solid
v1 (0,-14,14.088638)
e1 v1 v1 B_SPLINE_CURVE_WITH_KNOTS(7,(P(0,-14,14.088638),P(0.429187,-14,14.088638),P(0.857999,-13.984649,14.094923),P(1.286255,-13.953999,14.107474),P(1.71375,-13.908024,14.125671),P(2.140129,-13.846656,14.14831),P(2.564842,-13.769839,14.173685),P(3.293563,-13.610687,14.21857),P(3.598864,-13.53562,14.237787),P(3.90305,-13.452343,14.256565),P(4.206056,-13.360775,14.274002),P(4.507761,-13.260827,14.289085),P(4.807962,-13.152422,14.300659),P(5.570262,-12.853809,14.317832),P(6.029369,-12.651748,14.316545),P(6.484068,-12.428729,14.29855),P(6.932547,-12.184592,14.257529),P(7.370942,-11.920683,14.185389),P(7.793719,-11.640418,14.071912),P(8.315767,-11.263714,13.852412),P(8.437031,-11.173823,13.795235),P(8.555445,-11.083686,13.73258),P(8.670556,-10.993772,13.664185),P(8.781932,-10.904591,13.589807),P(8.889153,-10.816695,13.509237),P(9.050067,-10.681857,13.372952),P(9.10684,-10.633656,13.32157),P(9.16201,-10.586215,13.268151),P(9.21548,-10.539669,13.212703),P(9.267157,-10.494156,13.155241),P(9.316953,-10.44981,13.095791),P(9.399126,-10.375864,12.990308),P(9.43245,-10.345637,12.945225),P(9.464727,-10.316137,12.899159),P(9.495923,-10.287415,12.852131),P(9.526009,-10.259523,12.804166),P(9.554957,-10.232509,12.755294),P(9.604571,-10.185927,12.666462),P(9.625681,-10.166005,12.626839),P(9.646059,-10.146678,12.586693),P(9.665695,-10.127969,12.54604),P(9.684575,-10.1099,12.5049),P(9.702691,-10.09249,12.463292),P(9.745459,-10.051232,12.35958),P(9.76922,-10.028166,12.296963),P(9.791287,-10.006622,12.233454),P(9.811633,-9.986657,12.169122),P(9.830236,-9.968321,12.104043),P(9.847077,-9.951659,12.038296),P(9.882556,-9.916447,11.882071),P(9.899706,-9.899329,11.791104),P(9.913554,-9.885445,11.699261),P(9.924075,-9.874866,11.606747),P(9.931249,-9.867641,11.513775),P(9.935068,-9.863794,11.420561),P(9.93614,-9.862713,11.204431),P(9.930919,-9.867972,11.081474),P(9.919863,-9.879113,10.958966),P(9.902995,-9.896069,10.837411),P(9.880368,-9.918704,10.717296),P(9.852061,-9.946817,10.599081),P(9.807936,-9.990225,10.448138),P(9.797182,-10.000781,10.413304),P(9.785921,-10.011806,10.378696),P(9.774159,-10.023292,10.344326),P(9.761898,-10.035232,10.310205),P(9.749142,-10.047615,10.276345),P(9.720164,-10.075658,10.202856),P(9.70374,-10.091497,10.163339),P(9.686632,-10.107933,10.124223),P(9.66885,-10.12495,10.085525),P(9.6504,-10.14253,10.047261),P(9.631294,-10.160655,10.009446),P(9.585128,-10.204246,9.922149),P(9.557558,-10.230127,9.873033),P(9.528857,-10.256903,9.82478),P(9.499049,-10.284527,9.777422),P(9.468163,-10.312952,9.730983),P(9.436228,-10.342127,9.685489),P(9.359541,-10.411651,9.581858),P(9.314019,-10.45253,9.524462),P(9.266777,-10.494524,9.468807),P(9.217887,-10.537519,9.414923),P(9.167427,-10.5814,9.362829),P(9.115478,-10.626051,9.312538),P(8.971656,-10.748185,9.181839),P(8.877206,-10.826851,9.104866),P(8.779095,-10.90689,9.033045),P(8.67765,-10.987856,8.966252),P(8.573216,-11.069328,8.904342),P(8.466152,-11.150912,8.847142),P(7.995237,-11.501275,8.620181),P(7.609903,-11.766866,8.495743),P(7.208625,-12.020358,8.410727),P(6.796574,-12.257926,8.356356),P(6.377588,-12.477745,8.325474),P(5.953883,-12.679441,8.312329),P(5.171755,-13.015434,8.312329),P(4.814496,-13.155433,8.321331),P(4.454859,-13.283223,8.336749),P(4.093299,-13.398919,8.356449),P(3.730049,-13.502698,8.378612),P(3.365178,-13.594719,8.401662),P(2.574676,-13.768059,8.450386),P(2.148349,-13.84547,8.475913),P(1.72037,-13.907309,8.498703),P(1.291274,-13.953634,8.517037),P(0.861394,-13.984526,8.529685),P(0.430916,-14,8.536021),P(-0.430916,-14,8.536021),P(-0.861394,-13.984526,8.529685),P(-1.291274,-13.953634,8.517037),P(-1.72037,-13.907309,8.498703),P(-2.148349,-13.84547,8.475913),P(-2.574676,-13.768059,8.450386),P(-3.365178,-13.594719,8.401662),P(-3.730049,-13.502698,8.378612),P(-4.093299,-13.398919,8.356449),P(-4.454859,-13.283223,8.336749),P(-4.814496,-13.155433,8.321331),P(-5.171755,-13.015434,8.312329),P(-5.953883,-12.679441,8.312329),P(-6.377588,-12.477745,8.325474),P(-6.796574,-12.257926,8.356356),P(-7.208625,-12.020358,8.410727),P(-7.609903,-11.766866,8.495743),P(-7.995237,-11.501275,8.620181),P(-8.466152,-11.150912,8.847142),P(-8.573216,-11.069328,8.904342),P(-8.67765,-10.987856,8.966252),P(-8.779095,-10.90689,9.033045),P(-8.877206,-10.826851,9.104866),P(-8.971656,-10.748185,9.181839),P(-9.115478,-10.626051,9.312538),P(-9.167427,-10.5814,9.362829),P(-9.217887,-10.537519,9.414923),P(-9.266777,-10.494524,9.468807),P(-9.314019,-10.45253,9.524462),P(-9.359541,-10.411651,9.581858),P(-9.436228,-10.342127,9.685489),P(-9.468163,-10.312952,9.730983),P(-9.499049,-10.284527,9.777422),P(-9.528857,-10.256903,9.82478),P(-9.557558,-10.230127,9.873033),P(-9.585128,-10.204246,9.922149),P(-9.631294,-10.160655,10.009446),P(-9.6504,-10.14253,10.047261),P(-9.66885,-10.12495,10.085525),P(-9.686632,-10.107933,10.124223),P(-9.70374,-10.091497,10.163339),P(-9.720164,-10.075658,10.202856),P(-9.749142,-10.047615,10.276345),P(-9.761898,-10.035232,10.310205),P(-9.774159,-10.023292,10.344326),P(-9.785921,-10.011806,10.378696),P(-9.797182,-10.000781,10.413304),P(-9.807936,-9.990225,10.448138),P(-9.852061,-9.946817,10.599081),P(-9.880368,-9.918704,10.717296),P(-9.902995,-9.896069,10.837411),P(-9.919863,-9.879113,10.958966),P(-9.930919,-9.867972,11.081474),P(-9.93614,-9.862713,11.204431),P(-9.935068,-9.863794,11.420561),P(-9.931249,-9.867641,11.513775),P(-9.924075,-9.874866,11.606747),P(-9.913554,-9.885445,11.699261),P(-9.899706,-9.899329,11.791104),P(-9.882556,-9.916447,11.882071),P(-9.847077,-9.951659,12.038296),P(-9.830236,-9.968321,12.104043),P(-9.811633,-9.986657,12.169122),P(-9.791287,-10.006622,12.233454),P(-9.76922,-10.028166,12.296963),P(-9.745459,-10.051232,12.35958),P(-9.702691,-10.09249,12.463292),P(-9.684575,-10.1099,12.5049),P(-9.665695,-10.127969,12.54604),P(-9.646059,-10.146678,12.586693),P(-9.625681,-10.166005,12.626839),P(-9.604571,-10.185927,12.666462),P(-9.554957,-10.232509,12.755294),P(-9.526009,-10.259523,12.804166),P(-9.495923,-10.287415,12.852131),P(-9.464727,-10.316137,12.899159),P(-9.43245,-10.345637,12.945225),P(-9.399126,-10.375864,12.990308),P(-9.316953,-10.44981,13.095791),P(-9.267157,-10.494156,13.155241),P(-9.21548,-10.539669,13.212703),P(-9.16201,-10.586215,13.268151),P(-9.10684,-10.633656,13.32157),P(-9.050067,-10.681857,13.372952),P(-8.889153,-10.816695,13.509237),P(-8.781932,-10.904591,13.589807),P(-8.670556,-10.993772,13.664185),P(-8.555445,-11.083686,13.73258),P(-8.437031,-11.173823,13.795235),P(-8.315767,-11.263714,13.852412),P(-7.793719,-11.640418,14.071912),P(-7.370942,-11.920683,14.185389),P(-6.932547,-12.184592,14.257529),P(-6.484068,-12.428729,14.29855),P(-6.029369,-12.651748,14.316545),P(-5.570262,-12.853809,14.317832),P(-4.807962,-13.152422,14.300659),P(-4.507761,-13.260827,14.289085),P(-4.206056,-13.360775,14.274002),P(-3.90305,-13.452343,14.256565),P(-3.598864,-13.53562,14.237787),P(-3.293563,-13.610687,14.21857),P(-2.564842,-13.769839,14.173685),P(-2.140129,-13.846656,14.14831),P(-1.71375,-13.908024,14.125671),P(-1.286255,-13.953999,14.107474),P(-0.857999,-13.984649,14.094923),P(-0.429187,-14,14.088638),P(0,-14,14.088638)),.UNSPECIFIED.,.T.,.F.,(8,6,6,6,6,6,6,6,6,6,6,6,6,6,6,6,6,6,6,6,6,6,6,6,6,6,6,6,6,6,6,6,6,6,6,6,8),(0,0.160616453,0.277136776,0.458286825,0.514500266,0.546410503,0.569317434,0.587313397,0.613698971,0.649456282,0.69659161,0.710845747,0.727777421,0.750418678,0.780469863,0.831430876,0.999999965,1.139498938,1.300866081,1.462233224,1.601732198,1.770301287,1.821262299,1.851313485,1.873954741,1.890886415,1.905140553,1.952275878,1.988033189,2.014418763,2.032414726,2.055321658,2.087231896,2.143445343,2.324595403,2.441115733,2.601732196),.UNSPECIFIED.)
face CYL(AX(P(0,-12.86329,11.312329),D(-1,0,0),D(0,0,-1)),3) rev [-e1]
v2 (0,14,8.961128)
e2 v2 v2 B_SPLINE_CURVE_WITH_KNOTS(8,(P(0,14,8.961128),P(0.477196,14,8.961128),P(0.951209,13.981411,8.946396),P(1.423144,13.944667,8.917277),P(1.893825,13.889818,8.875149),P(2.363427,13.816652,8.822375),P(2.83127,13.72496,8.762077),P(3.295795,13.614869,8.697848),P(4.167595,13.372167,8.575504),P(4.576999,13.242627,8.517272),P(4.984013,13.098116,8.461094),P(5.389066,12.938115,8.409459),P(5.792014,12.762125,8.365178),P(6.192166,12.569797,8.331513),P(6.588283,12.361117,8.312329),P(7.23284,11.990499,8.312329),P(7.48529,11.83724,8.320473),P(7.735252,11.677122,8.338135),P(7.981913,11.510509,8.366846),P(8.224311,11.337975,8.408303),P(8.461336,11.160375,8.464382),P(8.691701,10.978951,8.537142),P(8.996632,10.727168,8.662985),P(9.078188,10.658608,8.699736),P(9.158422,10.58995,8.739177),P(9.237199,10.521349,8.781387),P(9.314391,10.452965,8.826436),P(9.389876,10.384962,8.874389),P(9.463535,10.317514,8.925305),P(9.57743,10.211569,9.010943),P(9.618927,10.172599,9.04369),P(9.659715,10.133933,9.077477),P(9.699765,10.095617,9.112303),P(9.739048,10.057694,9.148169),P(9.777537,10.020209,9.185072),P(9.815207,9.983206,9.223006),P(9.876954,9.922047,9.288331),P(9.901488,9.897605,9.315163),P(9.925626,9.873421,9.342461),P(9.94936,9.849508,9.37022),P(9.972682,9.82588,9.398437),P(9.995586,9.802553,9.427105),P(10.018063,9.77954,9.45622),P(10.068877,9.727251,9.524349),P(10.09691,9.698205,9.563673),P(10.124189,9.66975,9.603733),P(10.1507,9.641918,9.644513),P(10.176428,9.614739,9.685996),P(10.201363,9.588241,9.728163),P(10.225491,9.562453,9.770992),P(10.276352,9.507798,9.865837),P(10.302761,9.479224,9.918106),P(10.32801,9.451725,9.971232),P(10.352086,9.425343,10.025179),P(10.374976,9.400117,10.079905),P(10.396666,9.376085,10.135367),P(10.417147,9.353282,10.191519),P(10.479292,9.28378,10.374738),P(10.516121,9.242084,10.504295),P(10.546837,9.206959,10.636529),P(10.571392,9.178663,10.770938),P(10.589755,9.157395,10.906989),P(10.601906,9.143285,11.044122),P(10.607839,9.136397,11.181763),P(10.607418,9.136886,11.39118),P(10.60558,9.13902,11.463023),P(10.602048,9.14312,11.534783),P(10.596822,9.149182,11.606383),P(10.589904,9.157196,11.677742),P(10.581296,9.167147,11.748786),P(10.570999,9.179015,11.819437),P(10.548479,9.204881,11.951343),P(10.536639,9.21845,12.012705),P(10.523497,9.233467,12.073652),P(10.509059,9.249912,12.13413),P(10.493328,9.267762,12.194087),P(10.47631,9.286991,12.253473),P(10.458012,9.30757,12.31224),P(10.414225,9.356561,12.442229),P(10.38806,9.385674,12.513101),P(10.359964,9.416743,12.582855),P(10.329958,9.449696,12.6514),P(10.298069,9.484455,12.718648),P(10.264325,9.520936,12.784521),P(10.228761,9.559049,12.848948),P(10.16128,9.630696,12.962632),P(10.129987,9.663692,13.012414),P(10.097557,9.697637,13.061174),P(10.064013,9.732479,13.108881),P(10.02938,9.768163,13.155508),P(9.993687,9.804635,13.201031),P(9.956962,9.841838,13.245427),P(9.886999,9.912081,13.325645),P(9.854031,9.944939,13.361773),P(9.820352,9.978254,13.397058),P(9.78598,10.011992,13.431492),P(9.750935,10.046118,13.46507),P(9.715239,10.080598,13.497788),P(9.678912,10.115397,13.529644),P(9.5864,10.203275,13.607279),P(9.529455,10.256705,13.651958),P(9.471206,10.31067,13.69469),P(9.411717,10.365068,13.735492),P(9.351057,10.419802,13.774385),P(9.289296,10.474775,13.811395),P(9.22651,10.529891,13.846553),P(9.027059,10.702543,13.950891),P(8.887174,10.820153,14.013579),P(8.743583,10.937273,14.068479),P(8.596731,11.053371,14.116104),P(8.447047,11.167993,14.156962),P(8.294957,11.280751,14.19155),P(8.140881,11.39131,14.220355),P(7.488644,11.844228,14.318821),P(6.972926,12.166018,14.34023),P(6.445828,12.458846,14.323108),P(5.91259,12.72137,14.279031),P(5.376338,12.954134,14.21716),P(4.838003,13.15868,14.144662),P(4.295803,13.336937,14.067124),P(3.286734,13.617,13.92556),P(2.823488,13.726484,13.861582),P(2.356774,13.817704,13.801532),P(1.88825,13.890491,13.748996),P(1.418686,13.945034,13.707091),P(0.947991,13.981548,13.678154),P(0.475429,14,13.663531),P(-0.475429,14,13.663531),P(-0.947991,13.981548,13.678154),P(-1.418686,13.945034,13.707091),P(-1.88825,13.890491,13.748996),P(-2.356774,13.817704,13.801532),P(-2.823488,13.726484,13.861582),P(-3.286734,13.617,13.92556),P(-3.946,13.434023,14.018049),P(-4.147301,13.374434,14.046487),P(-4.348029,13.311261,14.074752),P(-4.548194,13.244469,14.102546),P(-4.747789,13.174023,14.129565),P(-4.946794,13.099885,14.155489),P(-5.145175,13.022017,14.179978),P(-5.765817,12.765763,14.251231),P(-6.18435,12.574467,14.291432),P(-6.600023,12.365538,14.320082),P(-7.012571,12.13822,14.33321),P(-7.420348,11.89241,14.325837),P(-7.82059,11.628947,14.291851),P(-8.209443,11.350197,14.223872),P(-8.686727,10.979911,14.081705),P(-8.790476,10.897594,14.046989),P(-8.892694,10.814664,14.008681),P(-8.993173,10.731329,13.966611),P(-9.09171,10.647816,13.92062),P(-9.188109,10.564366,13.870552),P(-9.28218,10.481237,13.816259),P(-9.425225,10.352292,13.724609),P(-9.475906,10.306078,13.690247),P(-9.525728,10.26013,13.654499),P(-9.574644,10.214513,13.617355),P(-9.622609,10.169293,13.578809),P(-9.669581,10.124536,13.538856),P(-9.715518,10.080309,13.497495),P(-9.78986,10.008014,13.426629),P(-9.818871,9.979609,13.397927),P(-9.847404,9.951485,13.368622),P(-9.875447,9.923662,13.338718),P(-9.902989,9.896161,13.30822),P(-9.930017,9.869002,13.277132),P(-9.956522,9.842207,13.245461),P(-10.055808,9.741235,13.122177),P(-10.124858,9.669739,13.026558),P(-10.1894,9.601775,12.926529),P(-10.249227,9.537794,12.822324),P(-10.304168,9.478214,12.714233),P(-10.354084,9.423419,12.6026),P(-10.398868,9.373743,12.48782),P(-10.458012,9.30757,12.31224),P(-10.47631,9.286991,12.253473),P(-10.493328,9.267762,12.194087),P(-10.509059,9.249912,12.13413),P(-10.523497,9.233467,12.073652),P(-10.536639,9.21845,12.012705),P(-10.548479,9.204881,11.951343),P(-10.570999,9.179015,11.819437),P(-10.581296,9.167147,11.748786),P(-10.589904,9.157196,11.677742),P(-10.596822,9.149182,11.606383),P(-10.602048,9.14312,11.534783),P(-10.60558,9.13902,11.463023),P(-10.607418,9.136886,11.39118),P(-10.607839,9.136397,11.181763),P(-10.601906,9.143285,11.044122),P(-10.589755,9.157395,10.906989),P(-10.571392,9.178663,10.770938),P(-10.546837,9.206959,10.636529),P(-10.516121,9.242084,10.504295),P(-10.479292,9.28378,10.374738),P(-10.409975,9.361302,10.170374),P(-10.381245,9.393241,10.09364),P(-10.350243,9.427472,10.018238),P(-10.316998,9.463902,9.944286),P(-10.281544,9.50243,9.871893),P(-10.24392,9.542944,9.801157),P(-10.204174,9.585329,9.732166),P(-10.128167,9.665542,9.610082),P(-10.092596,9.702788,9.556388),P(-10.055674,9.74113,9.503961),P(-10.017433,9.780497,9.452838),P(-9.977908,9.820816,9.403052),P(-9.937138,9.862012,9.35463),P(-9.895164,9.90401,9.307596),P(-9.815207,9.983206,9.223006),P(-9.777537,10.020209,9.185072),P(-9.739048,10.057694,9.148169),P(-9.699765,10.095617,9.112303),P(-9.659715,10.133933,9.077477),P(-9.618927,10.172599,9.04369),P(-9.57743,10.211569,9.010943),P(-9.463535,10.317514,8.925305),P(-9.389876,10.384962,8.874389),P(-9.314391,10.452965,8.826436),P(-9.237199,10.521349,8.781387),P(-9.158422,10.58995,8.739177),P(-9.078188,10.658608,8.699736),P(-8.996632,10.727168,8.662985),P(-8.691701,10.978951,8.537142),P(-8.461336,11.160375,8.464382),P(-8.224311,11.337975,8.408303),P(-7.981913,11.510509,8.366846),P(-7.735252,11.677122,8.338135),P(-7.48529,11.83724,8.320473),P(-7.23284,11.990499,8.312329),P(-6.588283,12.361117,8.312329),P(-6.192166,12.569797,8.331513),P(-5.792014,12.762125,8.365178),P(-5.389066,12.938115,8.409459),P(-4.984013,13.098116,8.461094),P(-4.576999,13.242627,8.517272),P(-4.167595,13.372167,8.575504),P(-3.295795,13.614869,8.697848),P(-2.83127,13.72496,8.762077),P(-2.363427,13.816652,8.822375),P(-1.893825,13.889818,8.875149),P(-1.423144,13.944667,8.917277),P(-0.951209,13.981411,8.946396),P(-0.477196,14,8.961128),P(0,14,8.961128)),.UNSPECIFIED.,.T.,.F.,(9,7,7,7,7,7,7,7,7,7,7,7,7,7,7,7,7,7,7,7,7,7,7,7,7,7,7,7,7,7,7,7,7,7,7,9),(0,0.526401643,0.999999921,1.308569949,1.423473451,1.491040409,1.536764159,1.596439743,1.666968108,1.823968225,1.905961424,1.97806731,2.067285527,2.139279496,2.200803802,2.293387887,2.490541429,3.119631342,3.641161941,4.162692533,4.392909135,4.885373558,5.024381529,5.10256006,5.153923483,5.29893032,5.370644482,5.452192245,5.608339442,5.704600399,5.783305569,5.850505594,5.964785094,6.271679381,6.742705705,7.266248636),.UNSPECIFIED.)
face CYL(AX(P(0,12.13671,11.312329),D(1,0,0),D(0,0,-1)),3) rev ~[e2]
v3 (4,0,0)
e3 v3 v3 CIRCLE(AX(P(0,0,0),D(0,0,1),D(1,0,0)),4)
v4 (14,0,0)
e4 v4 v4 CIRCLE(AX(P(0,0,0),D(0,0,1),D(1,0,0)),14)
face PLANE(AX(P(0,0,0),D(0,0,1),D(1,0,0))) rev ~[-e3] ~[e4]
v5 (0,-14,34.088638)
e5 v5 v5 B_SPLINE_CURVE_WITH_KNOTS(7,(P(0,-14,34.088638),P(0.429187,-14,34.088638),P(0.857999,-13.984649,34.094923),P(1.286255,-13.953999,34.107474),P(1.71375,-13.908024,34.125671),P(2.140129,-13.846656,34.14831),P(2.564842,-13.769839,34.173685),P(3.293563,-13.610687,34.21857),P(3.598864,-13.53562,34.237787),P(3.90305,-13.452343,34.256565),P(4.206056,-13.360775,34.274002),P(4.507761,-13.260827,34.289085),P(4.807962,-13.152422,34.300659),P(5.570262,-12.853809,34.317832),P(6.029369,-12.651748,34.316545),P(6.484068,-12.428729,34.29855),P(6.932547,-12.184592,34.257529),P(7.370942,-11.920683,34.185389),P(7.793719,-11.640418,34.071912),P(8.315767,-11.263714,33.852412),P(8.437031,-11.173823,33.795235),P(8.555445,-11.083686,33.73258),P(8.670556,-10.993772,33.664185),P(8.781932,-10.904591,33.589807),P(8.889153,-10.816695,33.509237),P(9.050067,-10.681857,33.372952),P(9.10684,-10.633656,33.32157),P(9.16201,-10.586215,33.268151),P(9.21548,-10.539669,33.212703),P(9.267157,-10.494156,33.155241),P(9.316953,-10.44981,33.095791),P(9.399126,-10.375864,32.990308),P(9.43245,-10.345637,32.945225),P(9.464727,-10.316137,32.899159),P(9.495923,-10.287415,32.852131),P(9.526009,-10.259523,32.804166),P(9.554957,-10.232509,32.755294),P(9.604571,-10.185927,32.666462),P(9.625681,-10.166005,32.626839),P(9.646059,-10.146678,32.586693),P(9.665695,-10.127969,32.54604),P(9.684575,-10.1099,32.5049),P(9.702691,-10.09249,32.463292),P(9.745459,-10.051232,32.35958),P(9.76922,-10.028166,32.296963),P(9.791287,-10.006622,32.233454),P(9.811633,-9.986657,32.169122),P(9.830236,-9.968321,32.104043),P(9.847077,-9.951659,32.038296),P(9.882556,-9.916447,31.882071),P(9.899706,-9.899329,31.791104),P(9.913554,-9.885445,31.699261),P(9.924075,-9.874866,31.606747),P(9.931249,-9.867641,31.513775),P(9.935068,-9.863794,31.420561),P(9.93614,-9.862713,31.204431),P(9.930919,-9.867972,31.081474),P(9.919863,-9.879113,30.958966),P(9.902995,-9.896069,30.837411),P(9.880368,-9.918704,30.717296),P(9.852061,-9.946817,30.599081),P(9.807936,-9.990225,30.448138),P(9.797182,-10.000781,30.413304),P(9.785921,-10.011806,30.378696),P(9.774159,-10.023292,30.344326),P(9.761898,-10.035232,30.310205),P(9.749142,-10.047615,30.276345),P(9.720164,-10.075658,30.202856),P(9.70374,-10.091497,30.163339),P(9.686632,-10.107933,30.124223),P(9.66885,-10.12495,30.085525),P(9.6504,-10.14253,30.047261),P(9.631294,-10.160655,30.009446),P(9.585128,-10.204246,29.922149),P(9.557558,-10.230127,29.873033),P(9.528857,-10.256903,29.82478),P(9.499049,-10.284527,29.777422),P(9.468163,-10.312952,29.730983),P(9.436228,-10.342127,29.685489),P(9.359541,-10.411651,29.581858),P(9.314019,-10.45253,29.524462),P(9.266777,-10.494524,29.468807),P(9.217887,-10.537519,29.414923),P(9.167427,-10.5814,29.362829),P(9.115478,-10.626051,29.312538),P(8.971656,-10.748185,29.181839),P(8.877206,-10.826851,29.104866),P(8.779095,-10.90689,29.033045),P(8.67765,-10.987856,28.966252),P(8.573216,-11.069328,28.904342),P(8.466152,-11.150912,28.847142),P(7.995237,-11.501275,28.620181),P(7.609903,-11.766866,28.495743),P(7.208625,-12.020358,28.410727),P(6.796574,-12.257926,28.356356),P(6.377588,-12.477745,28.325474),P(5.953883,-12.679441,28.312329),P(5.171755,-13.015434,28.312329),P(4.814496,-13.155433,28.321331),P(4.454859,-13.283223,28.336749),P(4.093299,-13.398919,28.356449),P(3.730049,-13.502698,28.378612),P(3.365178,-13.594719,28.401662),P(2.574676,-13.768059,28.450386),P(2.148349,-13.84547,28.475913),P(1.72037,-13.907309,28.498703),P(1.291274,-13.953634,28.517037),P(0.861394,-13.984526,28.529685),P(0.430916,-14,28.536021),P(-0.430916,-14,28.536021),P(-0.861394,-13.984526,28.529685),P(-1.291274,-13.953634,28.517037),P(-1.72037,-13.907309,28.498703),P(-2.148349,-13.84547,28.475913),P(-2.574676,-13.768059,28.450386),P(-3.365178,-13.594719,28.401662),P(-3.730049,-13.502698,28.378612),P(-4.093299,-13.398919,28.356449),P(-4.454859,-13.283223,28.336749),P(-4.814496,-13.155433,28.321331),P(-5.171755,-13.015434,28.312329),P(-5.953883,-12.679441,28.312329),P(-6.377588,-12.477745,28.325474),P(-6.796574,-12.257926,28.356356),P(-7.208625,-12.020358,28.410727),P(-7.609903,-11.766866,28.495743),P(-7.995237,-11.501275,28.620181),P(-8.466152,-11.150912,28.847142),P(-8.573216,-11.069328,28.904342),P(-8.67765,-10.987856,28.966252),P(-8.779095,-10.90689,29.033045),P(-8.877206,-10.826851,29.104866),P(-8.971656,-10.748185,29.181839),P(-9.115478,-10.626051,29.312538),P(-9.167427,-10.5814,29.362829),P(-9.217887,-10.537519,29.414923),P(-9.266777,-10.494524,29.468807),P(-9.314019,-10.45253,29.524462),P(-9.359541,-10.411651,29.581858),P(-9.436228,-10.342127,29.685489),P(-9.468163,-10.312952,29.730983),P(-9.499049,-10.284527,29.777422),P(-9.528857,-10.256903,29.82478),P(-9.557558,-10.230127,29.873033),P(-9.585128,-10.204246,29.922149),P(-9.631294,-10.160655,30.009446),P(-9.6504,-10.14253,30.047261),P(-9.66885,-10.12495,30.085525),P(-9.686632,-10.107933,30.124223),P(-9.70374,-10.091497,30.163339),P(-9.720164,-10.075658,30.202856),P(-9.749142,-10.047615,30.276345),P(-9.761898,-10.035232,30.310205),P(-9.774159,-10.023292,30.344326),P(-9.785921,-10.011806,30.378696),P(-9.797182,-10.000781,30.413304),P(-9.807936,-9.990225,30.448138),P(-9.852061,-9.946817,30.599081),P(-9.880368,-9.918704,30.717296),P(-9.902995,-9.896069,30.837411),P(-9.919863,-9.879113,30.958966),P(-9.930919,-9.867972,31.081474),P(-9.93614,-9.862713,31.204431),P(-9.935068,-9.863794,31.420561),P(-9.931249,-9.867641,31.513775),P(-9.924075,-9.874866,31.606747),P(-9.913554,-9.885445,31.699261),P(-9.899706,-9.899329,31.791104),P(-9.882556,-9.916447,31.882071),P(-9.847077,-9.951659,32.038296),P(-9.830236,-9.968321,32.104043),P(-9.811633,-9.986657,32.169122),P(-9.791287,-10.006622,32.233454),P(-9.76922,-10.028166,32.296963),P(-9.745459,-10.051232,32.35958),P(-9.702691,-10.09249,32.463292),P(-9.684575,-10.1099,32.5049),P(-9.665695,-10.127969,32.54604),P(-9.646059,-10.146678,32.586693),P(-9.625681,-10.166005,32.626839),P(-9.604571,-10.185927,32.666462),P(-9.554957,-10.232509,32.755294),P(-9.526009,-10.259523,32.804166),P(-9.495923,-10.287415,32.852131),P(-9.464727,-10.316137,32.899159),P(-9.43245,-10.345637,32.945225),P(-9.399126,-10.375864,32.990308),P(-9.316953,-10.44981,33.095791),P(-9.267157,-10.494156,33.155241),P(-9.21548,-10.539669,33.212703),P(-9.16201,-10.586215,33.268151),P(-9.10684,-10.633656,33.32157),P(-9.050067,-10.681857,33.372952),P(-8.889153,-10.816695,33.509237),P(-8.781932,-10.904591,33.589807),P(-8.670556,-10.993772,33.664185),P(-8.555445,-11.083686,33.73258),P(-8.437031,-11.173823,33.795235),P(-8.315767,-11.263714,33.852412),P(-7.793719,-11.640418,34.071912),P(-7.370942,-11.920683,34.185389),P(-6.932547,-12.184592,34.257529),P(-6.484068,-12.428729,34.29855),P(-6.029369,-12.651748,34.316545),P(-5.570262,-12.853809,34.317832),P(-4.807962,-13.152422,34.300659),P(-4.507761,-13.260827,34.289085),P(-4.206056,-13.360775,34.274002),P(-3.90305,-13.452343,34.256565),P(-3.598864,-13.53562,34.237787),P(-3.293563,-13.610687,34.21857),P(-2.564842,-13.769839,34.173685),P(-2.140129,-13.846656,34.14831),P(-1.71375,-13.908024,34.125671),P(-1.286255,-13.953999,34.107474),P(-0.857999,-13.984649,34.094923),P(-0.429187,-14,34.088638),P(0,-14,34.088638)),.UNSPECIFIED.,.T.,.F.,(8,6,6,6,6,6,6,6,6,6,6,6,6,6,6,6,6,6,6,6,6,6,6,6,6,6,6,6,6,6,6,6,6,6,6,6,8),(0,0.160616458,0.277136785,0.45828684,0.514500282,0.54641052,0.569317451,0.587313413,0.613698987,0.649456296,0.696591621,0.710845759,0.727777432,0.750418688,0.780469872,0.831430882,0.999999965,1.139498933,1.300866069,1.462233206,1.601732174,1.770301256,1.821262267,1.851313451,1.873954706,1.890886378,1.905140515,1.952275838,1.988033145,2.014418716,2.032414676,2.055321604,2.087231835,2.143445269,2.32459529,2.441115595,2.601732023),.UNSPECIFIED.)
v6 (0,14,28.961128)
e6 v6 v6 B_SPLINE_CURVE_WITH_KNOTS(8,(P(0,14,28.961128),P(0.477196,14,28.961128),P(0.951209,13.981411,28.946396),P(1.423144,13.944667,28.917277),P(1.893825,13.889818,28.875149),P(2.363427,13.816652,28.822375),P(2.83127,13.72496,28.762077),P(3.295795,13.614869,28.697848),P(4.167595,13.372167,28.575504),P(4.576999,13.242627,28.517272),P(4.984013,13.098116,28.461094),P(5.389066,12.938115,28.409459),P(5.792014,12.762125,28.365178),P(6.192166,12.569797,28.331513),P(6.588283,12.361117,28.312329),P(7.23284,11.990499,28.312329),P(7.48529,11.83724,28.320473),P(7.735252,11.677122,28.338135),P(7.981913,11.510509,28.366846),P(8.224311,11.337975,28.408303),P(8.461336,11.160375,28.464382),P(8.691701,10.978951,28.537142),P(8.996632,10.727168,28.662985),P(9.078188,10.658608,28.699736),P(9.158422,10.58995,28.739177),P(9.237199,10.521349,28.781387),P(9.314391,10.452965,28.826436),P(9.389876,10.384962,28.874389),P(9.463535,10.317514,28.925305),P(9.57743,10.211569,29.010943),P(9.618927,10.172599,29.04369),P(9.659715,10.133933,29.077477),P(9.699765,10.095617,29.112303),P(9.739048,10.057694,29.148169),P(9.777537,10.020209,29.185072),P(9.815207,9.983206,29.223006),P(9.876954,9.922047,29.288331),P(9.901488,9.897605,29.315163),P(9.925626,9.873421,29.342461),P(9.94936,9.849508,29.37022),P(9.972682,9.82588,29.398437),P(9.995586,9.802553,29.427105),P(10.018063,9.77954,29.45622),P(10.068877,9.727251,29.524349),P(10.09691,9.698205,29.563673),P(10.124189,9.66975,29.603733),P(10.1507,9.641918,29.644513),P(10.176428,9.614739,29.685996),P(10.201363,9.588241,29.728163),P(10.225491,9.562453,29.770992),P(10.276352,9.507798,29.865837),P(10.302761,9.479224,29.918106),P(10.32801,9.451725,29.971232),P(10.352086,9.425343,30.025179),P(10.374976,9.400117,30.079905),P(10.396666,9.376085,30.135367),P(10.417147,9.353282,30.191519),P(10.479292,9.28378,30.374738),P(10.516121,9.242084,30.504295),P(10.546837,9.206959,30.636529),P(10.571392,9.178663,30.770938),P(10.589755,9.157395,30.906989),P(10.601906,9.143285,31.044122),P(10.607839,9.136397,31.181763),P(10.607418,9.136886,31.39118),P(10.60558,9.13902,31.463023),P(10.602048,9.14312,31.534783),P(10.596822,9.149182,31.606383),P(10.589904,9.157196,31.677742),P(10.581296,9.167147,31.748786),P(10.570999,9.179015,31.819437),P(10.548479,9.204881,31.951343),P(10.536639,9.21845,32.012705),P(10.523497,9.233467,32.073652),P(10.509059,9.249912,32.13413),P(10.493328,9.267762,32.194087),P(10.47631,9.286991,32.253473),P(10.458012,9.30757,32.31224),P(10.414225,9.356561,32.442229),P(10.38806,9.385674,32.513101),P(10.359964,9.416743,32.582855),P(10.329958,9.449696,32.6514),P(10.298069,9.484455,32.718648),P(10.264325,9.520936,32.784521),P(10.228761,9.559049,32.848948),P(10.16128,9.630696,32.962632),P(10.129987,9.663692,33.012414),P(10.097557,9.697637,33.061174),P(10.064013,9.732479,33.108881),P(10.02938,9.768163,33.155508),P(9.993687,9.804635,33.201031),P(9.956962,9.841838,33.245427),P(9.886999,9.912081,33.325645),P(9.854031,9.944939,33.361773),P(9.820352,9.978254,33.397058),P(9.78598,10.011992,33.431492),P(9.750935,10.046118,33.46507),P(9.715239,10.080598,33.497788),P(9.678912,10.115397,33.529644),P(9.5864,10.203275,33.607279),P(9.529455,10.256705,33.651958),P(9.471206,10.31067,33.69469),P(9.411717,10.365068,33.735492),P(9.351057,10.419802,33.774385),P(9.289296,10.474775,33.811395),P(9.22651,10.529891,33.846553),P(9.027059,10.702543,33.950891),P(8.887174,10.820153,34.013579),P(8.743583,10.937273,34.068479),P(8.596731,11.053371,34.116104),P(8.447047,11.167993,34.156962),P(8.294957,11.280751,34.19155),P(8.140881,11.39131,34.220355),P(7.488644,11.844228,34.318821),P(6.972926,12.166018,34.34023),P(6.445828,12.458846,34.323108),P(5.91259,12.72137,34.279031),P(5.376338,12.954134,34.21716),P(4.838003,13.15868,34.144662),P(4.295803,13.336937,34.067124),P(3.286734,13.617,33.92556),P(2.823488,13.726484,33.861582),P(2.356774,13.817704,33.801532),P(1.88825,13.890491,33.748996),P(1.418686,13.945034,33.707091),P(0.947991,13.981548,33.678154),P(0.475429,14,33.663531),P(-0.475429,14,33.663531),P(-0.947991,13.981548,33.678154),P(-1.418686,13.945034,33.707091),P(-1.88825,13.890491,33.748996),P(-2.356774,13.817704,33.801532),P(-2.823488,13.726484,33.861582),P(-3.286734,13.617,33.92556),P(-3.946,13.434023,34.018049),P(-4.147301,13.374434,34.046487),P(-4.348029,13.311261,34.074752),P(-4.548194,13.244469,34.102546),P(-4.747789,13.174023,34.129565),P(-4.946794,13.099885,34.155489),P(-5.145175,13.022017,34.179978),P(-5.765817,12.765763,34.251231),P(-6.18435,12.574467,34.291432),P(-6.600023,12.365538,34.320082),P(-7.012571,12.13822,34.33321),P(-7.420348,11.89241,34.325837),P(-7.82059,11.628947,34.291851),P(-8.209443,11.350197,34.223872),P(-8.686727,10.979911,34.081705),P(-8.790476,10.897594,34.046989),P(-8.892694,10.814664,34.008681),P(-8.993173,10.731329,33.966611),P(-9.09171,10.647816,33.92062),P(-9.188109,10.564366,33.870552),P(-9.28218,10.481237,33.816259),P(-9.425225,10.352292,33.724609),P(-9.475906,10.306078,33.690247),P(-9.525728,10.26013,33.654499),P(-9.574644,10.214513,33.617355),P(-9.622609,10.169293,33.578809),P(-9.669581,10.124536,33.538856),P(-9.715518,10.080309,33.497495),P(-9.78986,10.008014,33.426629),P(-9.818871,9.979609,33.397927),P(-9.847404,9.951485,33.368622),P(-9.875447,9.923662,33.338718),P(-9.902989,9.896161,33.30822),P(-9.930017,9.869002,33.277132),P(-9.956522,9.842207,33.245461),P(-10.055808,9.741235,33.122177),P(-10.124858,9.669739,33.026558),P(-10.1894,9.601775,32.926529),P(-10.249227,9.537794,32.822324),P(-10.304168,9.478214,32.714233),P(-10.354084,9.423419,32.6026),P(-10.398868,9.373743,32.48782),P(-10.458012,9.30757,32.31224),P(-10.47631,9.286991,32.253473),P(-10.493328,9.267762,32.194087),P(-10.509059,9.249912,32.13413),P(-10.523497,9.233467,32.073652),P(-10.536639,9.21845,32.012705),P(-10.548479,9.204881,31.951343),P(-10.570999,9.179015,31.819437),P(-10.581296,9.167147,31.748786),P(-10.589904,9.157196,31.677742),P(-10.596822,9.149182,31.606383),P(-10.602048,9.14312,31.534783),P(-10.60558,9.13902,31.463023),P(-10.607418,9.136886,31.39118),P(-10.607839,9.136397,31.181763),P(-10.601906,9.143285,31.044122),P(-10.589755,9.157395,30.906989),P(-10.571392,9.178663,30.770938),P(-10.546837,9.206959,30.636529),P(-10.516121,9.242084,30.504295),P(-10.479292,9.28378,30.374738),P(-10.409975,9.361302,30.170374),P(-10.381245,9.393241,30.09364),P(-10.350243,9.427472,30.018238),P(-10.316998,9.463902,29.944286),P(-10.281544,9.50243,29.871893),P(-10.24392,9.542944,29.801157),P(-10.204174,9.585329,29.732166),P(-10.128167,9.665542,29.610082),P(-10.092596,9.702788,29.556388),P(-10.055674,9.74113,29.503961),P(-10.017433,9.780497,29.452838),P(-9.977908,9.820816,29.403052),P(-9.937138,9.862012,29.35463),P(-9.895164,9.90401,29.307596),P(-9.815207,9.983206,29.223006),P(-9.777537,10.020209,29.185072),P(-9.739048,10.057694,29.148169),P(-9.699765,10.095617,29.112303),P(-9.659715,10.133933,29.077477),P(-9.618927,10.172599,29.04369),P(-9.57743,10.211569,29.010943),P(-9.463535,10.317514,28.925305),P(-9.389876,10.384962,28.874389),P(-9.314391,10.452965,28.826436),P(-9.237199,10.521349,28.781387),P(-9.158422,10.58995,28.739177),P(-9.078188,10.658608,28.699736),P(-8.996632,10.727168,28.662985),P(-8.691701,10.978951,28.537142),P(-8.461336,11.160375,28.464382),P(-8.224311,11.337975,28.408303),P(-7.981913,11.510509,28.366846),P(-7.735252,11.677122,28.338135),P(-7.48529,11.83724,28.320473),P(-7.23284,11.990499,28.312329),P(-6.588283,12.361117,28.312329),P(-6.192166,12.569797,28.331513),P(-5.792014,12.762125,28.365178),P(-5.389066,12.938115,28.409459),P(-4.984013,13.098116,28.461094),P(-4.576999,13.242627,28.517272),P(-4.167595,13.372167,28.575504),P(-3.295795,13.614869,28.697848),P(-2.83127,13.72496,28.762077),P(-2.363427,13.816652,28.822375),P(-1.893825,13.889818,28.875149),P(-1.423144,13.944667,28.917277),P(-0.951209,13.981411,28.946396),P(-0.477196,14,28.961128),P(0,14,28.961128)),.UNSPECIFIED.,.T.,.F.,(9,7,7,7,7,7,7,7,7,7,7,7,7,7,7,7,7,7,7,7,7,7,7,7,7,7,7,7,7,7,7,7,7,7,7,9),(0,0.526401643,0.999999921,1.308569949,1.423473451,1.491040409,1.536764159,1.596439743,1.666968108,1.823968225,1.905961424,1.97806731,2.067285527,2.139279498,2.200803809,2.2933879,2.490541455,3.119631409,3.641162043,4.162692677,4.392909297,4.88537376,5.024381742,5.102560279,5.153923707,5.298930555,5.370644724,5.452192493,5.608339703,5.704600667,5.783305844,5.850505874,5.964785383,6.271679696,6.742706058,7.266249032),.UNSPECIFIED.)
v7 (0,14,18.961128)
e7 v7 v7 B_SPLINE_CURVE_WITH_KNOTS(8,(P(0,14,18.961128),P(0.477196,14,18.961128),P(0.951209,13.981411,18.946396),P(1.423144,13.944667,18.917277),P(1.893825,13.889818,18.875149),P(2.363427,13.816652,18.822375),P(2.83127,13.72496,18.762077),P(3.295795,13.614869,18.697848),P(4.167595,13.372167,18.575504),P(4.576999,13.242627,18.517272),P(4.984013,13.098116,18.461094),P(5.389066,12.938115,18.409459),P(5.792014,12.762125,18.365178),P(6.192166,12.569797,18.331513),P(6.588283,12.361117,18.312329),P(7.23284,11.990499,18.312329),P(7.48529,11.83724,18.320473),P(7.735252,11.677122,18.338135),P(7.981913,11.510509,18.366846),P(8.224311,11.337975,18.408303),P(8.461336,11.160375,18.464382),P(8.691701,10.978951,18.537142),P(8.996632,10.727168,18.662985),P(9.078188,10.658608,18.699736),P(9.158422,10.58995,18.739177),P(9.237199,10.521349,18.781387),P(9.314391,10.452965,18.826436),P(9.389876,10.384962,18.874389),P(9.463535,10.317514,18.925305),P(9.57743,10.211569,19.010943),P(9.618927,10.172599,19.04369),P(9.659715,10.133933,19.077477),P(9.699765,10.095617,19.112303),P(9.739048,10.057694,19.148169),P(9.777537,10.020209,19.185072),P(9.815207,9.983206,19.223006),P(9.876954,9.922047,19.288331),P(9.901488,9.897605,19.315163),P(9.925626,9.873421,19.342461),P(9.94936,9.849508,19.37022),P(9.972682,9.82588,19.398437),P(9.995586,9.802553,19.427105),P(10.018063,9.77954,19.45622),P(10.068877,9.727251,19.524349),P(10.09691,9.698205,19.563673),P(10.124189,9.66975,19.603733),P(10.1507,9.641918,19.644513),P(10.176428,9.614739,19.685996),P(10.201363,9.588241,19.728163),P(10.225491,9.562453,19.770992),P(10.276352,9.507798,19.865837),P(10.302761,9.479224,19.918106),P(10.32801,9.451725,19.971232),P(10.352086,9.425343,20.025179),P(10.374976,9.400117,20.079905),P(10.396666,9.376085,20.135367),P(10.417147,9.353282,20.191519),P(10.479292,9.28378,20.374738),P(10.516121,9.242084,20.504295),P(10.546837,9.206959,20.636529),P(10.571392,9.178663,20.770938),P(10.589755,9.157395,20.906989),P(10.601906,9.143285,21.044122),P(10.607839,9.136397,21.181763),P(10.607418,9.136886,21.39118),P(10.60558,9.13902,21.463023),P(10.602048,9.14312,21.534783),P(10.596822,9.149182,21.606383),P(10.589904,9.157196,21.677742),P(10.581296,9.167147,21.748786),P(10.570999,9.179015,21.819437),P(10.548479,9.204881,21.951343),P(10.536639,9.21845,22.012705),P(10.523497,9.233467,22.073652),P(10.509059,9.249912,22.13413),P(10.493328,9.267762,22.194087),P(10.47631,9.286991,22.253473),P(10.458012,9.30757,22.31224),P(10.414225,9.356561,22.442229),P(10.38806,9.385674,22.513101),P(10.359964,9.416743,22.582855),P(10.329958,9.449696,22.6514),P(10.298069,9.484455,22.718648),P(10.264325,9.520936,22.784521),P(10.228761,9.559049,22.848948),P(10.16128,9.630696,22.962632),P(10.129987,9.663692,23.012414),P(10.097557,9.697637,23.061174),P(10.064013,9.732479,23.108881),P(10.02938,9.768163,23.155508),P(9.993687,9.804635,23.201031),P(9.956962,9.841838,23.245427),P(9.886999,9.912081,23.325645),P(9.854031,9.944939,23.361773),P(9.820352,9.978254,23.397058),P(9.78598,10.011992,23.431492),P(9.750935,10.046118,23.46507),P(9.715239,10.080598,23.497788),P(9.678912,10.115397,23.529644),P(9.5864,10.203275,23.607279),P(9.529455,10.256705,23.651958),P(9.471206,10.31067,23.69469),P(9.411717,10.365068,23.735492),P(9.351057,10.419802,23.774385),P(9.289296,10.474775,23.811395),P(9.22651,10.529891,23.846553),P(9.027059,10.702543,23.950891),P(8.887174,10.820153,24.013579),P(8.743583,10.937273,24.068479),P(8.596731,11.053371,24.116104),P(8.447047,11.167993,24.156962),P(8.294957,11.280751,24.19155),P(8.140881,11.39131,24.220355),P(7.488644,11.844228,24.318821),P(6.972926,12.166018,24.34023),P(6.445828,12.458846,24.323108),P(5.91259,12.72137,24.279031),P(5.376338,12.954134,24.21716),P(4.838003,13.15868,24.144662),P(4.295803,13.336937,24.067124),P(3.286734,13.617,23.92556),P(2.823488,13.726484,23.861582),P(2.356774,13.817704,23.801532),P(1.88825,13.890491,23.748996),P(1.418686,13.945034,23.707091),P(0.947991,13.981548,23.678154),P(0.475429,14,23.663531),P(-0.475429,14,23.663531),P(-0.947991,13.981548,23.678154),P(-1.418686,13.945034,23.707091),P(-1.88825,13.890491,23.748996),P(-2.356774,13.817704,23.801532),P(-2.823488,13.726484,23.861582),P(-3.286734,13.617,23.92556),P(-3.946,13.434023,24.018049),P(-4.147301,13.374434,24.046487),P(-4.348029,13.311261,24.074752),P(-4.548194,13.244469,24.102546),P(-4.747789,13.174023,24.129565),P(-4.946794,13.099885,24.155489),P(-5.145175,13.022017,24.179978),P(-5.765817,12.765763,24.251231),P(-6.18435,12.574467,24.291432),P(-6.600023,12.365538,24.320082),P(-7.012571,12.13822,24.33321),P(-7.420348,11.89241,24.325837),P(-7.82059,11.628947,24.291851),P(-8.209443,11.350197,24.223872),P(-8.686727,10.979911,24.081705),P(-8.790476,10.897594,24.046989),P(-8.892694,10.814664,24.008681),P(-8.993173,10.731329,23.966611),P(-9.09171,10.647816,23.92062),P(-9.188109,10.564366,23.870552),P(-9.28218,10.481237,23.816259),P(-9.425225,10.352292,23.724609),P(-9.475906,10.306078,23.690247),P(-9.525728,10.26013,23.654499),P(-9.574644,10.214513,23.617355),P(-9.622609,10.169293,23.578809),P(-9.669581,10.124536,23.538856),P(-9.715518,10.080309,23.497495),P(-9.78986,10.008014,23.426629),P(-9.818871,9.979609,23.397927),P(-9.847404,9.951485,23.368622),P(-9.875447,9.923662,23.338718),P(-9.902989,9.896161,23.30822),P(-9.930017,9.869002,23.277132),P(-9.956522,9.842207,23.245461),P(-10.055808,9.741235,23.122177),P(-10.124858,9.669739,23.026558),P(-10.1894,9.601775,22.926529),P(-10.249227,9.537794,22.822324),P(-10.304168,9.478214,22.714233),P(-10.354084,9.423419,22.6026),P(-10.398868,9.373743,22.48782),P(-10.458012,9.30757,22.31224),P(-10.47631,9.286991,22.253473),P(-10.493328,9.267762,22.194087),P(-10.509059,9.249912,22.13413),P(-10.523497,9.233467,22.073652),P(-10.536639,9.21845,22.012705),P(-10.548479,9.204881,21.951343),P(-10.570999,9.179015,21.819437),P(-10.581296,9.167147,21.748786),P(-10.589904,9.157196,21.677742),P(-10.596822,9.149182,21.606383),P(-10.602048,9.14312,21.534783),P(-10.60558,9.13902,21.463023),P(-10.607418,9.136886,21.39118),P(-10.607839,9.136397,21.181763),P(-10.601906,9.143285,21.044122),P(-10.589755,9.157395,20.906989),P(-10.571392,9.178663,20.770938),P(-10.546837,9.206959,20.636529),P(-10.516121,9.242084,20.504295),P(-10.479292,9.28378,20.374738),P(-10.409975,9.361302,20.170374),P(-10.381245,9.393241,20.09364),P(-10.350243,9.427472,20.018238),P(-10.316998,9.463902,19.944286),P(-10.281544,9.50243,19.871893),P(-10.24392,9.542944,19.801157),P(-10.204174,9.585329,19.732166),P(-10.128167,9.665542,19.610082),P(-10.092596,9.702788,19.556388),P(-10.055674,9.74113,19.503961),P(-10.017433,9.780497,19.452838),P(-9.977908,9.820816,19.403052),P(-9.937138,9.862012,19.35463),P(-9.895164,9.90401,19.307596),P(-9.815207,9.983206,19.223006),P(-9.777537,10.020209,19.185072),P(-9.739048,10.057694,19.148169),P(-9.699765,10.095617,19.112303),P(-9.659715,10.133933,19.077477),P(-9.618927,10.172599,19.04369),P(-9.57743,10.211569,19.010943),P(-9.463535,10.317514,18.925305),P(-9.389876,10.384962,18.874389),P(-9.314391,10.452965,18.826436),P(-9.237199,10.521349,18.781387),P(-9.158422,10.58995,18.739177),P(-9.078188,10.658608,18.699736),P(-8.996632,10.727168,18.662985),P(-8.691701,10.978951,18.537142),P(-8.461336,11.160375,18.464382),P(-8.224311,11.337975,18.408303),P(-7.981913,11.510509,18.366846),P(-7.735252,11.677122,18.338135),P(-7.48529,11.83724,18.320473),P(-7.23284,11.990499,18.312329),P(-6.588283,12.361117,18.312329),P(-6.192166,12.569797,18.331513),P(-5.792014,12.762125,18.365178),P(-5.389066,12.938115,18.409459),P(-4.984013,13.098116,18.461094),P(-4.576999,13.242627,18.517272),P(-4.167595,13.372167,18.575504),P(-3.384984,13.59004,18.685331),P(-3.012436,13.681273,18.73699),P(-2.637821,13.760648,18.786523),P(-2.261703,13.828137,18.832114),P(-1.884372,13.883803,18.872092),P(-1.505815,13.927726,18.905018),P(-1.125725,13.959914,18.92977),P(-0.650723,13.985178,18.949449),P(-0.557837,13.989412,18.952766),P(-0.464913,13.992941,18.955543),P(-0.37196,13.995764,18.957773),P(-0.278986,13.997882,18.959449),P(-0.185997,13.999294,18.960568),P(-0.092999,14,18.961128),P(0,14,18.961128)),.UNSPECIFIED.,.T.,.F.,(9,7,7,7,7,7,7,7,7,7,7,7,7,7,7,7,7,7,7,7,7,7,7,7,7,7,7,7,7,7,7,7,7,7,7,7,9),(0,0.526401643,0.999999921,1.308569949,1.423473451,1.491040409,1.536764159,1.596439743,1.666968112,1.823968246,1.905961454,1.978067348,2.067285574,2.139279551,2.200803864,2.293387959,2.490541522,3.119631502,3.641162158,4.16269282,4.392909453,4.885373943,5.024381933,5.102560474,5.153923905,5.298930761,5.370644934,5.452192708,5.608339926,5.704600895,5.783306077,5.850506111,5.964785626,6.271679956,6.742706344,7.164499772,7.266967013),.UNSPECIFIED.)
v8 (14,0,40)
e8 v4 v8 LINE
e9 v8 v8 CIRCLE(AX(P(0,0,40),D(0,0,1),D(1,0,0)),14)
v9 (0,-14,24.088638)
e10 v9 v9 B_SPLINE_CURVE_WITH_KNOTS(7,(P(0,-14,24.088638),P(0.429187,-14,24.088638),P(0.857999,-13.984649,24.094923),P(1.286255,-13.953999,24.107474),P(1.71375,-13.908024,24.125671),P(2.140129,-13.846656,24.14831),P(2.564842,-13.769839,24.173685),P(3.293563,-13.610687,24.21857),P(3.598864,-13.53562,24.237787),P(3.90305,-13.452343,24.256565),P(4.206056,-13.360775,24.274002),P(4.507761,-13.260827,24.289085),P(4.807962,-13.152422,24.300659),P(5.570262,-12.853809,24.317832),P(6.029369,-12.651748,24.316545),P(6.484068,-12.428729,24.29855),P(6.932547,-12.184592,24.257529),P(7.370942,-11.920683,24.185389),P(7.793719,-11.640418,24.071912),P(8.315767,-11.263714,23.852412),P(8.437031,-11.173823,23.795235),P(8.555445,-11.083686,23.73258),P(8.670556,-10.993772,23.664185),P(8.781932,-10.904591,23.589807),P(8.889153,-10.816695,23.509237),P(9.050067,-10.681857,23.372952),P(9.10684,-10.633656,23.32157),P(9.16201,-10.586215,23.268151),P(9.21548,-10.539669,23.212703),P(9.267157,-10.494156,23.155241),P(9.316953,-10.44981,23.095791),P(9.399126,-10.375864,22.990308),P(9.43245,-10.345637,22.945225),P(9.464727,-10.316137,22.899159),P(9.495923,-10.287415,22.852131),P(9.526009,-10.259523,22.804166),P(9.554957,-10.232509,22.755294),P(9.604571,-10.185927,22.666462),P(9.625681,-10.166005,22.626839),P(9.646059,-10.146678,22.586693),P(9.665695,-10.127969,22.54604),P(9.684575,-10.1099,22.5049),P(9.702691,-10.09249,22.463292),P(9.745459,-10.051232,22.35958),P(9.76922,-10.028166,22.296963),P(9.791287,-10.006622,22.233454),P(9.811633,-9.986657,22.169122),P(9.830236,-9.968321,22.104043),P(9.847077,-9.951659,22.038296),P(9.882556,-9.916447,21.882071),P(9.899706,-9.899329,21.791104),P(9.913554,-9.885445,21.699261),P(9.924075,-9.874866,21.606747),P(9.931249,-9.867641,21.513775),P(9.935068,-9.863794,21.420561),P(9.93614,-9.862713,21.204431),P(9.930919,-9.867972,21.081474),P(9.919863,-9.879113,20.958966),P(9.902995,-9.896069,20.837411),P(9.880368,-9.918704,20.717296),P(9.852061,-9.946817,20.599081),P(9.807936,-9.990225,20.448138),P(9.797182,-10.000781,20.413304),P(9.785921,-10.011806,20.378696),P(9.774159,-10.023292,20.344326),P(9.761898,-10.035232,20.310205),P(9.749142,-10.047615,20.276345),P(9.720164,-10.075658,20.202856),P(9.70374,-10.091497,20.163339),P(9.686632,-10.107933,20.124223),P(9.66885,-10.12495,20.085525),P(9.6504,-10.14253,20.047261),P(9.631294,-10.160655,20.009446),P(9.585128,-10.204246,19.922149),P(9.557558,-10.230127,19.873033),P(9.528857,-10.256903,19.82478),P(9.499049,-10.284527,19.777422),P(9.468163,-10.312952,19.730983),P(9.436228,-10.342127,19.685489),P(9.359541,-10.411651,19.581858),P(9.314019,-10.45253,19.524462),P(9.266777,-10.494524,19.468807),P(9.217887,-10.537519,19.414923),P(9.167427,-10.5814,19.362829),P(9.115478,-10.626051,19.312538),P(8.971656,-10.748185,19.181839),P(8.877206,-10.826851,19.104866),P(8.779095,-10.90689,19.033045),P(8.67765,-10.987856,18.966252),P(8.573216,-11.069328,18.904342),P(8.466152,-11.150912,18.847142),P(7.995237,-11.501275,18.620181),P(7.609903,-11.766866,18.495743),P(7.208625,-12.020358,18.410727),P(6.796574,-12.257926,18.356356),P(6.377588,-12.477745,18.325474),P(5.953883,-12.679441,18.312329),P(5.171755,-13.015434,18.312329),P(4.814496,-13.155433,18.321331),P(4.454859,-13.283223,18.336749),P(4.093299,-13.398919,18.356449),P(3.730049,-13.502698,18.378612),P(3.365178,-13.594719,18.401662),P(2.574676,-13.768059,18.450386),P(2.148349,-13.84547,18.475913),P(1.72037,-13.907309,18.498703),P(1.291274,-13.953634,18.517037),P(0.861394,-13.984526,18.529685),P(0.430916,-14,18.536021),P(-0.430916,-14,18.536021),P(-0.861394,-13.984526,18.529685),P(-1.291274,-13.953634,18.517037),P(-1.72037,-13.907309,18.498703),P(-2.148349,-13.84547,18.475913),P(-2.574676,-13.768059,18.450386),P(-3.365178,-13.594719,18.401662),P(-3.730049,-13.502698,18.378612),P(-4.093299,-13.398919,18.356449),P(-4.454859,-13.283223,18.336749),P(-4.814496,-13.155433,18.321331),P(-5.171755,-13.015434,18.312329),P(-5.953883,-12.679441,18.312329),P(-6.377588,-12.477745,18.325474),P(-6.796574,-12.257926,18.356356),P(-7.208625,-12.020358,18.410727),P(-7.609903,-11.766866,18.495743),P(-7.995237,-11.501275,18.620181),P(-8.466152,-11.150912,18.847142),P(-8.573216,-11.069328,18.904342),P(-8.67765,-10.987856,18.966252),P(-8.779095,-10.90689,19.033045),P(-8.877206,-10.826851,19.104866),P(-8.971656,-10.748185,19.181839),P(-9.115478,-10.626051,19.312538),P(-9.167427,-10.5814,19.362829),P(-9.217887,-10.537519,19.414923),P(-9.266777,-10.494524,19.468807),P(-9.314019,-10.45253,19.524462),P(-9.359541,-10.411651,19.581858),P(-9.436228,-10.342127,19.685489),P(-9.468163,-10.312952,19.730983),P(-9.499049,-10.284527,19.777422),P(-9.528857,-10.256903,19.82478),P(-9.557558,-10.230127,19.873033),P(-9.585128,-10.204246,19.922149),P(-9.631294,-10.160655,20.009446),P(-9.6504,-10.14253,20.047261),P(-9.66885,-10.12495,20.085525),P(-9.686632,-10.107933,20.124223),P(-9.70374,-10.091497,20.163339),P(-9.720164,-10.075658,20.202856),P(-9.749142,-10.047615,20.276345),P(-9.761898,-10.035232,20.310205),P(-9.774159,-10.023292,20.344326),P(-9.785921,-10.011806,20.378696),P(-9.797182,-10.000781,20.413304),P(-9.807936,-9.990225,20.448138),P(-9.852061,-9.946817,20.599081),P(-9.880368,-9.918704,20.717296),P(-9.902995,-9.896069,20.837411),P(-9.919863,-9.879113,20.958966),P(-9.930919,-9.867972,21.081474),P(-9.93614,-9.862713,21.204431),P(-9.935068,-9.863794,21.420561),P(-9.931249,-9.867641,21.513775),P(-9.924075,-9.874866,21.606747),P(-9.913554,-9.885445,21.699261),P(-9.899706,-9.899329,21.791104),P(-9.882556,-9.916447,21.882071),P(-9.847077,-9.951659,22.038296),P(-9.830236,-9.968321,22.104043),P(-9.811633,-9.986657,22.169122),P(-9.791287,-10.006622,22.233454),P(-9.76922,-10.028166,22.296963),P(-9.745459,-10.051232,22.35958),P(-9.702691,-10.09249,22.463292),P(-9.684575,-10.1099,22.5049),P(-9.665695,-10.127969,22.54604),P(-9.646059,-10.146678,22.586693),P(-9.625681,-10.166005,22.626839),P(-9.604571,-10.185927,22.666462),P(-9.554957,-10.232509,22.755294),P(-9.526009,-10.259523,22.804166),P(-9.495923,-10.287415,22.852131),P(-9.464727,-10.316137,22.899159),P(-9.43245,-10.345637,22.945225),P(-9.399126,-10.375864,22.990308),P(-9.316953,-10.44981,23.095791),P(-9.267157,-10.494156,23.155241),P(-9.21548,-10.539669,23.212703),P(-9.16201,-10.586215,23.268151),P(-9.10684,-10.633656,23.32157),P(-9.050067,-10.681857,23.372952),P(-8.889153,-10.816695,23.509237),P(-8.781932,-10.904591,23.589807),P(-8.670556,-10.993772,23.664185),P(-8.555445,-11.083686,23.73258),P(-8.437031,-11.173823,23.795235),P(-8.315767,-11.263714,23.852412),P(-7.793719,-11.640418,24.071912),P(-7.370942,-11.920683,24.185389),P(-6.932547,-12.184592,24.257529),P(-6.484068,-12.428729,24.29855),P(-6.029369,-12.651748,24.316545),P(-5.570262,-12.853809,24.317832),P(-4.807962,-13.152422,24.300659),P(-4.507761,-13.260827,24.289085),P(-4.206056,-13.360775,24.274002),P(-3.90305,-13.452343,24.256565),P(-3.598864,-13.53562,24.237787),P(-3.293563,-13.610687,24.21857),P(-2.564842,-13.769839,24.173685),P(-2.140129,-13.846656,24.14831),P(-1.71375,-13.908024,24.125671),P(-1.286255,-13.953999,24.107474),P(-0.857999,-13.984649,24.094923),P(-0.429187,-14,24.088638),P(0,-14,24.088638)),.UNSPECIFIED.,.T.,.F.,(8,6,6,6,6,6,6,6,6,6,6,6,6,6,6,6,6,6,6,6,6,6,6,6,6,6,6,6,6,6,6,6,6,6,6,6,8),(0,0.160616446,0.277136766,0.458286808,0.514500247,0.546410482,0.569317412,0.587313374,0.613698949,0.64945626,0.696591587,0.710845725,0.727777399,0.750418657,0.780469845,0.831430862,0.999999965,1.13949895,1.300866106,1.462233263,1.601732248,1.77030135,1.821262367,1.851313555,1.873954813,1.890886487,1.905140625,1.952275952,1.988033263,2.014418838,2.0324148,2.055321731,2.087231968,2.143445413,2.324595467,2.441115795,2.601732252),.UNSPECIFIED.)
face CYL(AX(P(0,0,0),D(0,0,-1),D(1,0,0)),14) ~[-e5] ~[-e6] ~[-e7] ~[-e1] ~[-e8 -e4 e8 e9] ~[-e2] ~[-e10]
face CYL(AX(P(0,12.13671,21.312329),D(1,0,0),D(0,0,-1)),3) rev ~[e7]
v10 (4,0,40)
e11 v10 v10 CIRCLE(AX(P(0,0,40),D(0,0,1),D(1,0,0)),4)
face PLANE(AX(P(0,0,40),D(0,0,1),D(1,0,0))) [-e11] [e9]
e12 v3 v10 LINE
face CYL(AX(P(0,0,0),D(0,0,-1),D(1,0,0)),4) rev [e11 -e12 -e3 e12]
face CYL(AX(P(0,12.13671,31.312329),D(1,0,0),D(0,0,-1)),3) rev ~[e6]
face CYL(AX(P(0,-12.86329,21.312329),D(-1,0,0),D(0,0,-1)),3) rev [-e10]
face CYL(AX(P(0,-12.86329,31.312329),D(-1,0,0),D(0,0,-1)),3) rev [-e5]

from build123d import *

# Parameters (mm, degrees)
SKETCH1_R               = 14
SKETCH1_R_2             = 4
EXTRUDE_THIN1_DEPTH     = 40
SKETCH2_R               = 3
CUT_EXTRUDE1_DEPTH      = 15
CUT_EXTRUDE1_DEPTH_BACK = 15


with BuildPart() as part:
    # Sketch1 → Extrude-Thin1 (new body)
    with BuildSketch(Plane.XY):
        Circle(SKETCH1_R)
        Circle(SKETCH1_R_2, mode=Mode.SUBTRACT)
    extrude(amount=EXTRUDE_THIN1_DEPTH)

    # Sketch2 → Cut-Extrude1 (cut, two sides)
    with BuildSketch(Plane(origin=(0, 0, 0), x_dir=(0, 0, -1), z_dir=(1, 0, 0))) as cut_extrude1_sk:
        with Locations((-31.312329447, 12.13670973)):
            Circle(SKETCH2_R)
        with Locations((-21.312329447, 12.13670973)):
            Circle(SKETCH2_R)
        with Locations((-11.312329447, 12.13670973)):
            Circle(SKETCH2_R)
        with Locations((-21.312329447, -12.86329027)):
            Circle(SKETCH2_R)
        with Locations((-11.312329447, -12.86329027)):
            Circle(SKETCH2_R)
        with Locations((-31.312329447, -12.86329027)):
            Circle(SKETCH2_R)
    extrude(amount=CUT_EXTRUDE1_DEPTH, mode=Mode.SUBTRACT)
    extrude(cut_extrude1_sk.sketch, amount=-CUT_EXTRUDE1_DEPTH_BACK, mode=Mode.SUBTRACT)


solid = part.part
